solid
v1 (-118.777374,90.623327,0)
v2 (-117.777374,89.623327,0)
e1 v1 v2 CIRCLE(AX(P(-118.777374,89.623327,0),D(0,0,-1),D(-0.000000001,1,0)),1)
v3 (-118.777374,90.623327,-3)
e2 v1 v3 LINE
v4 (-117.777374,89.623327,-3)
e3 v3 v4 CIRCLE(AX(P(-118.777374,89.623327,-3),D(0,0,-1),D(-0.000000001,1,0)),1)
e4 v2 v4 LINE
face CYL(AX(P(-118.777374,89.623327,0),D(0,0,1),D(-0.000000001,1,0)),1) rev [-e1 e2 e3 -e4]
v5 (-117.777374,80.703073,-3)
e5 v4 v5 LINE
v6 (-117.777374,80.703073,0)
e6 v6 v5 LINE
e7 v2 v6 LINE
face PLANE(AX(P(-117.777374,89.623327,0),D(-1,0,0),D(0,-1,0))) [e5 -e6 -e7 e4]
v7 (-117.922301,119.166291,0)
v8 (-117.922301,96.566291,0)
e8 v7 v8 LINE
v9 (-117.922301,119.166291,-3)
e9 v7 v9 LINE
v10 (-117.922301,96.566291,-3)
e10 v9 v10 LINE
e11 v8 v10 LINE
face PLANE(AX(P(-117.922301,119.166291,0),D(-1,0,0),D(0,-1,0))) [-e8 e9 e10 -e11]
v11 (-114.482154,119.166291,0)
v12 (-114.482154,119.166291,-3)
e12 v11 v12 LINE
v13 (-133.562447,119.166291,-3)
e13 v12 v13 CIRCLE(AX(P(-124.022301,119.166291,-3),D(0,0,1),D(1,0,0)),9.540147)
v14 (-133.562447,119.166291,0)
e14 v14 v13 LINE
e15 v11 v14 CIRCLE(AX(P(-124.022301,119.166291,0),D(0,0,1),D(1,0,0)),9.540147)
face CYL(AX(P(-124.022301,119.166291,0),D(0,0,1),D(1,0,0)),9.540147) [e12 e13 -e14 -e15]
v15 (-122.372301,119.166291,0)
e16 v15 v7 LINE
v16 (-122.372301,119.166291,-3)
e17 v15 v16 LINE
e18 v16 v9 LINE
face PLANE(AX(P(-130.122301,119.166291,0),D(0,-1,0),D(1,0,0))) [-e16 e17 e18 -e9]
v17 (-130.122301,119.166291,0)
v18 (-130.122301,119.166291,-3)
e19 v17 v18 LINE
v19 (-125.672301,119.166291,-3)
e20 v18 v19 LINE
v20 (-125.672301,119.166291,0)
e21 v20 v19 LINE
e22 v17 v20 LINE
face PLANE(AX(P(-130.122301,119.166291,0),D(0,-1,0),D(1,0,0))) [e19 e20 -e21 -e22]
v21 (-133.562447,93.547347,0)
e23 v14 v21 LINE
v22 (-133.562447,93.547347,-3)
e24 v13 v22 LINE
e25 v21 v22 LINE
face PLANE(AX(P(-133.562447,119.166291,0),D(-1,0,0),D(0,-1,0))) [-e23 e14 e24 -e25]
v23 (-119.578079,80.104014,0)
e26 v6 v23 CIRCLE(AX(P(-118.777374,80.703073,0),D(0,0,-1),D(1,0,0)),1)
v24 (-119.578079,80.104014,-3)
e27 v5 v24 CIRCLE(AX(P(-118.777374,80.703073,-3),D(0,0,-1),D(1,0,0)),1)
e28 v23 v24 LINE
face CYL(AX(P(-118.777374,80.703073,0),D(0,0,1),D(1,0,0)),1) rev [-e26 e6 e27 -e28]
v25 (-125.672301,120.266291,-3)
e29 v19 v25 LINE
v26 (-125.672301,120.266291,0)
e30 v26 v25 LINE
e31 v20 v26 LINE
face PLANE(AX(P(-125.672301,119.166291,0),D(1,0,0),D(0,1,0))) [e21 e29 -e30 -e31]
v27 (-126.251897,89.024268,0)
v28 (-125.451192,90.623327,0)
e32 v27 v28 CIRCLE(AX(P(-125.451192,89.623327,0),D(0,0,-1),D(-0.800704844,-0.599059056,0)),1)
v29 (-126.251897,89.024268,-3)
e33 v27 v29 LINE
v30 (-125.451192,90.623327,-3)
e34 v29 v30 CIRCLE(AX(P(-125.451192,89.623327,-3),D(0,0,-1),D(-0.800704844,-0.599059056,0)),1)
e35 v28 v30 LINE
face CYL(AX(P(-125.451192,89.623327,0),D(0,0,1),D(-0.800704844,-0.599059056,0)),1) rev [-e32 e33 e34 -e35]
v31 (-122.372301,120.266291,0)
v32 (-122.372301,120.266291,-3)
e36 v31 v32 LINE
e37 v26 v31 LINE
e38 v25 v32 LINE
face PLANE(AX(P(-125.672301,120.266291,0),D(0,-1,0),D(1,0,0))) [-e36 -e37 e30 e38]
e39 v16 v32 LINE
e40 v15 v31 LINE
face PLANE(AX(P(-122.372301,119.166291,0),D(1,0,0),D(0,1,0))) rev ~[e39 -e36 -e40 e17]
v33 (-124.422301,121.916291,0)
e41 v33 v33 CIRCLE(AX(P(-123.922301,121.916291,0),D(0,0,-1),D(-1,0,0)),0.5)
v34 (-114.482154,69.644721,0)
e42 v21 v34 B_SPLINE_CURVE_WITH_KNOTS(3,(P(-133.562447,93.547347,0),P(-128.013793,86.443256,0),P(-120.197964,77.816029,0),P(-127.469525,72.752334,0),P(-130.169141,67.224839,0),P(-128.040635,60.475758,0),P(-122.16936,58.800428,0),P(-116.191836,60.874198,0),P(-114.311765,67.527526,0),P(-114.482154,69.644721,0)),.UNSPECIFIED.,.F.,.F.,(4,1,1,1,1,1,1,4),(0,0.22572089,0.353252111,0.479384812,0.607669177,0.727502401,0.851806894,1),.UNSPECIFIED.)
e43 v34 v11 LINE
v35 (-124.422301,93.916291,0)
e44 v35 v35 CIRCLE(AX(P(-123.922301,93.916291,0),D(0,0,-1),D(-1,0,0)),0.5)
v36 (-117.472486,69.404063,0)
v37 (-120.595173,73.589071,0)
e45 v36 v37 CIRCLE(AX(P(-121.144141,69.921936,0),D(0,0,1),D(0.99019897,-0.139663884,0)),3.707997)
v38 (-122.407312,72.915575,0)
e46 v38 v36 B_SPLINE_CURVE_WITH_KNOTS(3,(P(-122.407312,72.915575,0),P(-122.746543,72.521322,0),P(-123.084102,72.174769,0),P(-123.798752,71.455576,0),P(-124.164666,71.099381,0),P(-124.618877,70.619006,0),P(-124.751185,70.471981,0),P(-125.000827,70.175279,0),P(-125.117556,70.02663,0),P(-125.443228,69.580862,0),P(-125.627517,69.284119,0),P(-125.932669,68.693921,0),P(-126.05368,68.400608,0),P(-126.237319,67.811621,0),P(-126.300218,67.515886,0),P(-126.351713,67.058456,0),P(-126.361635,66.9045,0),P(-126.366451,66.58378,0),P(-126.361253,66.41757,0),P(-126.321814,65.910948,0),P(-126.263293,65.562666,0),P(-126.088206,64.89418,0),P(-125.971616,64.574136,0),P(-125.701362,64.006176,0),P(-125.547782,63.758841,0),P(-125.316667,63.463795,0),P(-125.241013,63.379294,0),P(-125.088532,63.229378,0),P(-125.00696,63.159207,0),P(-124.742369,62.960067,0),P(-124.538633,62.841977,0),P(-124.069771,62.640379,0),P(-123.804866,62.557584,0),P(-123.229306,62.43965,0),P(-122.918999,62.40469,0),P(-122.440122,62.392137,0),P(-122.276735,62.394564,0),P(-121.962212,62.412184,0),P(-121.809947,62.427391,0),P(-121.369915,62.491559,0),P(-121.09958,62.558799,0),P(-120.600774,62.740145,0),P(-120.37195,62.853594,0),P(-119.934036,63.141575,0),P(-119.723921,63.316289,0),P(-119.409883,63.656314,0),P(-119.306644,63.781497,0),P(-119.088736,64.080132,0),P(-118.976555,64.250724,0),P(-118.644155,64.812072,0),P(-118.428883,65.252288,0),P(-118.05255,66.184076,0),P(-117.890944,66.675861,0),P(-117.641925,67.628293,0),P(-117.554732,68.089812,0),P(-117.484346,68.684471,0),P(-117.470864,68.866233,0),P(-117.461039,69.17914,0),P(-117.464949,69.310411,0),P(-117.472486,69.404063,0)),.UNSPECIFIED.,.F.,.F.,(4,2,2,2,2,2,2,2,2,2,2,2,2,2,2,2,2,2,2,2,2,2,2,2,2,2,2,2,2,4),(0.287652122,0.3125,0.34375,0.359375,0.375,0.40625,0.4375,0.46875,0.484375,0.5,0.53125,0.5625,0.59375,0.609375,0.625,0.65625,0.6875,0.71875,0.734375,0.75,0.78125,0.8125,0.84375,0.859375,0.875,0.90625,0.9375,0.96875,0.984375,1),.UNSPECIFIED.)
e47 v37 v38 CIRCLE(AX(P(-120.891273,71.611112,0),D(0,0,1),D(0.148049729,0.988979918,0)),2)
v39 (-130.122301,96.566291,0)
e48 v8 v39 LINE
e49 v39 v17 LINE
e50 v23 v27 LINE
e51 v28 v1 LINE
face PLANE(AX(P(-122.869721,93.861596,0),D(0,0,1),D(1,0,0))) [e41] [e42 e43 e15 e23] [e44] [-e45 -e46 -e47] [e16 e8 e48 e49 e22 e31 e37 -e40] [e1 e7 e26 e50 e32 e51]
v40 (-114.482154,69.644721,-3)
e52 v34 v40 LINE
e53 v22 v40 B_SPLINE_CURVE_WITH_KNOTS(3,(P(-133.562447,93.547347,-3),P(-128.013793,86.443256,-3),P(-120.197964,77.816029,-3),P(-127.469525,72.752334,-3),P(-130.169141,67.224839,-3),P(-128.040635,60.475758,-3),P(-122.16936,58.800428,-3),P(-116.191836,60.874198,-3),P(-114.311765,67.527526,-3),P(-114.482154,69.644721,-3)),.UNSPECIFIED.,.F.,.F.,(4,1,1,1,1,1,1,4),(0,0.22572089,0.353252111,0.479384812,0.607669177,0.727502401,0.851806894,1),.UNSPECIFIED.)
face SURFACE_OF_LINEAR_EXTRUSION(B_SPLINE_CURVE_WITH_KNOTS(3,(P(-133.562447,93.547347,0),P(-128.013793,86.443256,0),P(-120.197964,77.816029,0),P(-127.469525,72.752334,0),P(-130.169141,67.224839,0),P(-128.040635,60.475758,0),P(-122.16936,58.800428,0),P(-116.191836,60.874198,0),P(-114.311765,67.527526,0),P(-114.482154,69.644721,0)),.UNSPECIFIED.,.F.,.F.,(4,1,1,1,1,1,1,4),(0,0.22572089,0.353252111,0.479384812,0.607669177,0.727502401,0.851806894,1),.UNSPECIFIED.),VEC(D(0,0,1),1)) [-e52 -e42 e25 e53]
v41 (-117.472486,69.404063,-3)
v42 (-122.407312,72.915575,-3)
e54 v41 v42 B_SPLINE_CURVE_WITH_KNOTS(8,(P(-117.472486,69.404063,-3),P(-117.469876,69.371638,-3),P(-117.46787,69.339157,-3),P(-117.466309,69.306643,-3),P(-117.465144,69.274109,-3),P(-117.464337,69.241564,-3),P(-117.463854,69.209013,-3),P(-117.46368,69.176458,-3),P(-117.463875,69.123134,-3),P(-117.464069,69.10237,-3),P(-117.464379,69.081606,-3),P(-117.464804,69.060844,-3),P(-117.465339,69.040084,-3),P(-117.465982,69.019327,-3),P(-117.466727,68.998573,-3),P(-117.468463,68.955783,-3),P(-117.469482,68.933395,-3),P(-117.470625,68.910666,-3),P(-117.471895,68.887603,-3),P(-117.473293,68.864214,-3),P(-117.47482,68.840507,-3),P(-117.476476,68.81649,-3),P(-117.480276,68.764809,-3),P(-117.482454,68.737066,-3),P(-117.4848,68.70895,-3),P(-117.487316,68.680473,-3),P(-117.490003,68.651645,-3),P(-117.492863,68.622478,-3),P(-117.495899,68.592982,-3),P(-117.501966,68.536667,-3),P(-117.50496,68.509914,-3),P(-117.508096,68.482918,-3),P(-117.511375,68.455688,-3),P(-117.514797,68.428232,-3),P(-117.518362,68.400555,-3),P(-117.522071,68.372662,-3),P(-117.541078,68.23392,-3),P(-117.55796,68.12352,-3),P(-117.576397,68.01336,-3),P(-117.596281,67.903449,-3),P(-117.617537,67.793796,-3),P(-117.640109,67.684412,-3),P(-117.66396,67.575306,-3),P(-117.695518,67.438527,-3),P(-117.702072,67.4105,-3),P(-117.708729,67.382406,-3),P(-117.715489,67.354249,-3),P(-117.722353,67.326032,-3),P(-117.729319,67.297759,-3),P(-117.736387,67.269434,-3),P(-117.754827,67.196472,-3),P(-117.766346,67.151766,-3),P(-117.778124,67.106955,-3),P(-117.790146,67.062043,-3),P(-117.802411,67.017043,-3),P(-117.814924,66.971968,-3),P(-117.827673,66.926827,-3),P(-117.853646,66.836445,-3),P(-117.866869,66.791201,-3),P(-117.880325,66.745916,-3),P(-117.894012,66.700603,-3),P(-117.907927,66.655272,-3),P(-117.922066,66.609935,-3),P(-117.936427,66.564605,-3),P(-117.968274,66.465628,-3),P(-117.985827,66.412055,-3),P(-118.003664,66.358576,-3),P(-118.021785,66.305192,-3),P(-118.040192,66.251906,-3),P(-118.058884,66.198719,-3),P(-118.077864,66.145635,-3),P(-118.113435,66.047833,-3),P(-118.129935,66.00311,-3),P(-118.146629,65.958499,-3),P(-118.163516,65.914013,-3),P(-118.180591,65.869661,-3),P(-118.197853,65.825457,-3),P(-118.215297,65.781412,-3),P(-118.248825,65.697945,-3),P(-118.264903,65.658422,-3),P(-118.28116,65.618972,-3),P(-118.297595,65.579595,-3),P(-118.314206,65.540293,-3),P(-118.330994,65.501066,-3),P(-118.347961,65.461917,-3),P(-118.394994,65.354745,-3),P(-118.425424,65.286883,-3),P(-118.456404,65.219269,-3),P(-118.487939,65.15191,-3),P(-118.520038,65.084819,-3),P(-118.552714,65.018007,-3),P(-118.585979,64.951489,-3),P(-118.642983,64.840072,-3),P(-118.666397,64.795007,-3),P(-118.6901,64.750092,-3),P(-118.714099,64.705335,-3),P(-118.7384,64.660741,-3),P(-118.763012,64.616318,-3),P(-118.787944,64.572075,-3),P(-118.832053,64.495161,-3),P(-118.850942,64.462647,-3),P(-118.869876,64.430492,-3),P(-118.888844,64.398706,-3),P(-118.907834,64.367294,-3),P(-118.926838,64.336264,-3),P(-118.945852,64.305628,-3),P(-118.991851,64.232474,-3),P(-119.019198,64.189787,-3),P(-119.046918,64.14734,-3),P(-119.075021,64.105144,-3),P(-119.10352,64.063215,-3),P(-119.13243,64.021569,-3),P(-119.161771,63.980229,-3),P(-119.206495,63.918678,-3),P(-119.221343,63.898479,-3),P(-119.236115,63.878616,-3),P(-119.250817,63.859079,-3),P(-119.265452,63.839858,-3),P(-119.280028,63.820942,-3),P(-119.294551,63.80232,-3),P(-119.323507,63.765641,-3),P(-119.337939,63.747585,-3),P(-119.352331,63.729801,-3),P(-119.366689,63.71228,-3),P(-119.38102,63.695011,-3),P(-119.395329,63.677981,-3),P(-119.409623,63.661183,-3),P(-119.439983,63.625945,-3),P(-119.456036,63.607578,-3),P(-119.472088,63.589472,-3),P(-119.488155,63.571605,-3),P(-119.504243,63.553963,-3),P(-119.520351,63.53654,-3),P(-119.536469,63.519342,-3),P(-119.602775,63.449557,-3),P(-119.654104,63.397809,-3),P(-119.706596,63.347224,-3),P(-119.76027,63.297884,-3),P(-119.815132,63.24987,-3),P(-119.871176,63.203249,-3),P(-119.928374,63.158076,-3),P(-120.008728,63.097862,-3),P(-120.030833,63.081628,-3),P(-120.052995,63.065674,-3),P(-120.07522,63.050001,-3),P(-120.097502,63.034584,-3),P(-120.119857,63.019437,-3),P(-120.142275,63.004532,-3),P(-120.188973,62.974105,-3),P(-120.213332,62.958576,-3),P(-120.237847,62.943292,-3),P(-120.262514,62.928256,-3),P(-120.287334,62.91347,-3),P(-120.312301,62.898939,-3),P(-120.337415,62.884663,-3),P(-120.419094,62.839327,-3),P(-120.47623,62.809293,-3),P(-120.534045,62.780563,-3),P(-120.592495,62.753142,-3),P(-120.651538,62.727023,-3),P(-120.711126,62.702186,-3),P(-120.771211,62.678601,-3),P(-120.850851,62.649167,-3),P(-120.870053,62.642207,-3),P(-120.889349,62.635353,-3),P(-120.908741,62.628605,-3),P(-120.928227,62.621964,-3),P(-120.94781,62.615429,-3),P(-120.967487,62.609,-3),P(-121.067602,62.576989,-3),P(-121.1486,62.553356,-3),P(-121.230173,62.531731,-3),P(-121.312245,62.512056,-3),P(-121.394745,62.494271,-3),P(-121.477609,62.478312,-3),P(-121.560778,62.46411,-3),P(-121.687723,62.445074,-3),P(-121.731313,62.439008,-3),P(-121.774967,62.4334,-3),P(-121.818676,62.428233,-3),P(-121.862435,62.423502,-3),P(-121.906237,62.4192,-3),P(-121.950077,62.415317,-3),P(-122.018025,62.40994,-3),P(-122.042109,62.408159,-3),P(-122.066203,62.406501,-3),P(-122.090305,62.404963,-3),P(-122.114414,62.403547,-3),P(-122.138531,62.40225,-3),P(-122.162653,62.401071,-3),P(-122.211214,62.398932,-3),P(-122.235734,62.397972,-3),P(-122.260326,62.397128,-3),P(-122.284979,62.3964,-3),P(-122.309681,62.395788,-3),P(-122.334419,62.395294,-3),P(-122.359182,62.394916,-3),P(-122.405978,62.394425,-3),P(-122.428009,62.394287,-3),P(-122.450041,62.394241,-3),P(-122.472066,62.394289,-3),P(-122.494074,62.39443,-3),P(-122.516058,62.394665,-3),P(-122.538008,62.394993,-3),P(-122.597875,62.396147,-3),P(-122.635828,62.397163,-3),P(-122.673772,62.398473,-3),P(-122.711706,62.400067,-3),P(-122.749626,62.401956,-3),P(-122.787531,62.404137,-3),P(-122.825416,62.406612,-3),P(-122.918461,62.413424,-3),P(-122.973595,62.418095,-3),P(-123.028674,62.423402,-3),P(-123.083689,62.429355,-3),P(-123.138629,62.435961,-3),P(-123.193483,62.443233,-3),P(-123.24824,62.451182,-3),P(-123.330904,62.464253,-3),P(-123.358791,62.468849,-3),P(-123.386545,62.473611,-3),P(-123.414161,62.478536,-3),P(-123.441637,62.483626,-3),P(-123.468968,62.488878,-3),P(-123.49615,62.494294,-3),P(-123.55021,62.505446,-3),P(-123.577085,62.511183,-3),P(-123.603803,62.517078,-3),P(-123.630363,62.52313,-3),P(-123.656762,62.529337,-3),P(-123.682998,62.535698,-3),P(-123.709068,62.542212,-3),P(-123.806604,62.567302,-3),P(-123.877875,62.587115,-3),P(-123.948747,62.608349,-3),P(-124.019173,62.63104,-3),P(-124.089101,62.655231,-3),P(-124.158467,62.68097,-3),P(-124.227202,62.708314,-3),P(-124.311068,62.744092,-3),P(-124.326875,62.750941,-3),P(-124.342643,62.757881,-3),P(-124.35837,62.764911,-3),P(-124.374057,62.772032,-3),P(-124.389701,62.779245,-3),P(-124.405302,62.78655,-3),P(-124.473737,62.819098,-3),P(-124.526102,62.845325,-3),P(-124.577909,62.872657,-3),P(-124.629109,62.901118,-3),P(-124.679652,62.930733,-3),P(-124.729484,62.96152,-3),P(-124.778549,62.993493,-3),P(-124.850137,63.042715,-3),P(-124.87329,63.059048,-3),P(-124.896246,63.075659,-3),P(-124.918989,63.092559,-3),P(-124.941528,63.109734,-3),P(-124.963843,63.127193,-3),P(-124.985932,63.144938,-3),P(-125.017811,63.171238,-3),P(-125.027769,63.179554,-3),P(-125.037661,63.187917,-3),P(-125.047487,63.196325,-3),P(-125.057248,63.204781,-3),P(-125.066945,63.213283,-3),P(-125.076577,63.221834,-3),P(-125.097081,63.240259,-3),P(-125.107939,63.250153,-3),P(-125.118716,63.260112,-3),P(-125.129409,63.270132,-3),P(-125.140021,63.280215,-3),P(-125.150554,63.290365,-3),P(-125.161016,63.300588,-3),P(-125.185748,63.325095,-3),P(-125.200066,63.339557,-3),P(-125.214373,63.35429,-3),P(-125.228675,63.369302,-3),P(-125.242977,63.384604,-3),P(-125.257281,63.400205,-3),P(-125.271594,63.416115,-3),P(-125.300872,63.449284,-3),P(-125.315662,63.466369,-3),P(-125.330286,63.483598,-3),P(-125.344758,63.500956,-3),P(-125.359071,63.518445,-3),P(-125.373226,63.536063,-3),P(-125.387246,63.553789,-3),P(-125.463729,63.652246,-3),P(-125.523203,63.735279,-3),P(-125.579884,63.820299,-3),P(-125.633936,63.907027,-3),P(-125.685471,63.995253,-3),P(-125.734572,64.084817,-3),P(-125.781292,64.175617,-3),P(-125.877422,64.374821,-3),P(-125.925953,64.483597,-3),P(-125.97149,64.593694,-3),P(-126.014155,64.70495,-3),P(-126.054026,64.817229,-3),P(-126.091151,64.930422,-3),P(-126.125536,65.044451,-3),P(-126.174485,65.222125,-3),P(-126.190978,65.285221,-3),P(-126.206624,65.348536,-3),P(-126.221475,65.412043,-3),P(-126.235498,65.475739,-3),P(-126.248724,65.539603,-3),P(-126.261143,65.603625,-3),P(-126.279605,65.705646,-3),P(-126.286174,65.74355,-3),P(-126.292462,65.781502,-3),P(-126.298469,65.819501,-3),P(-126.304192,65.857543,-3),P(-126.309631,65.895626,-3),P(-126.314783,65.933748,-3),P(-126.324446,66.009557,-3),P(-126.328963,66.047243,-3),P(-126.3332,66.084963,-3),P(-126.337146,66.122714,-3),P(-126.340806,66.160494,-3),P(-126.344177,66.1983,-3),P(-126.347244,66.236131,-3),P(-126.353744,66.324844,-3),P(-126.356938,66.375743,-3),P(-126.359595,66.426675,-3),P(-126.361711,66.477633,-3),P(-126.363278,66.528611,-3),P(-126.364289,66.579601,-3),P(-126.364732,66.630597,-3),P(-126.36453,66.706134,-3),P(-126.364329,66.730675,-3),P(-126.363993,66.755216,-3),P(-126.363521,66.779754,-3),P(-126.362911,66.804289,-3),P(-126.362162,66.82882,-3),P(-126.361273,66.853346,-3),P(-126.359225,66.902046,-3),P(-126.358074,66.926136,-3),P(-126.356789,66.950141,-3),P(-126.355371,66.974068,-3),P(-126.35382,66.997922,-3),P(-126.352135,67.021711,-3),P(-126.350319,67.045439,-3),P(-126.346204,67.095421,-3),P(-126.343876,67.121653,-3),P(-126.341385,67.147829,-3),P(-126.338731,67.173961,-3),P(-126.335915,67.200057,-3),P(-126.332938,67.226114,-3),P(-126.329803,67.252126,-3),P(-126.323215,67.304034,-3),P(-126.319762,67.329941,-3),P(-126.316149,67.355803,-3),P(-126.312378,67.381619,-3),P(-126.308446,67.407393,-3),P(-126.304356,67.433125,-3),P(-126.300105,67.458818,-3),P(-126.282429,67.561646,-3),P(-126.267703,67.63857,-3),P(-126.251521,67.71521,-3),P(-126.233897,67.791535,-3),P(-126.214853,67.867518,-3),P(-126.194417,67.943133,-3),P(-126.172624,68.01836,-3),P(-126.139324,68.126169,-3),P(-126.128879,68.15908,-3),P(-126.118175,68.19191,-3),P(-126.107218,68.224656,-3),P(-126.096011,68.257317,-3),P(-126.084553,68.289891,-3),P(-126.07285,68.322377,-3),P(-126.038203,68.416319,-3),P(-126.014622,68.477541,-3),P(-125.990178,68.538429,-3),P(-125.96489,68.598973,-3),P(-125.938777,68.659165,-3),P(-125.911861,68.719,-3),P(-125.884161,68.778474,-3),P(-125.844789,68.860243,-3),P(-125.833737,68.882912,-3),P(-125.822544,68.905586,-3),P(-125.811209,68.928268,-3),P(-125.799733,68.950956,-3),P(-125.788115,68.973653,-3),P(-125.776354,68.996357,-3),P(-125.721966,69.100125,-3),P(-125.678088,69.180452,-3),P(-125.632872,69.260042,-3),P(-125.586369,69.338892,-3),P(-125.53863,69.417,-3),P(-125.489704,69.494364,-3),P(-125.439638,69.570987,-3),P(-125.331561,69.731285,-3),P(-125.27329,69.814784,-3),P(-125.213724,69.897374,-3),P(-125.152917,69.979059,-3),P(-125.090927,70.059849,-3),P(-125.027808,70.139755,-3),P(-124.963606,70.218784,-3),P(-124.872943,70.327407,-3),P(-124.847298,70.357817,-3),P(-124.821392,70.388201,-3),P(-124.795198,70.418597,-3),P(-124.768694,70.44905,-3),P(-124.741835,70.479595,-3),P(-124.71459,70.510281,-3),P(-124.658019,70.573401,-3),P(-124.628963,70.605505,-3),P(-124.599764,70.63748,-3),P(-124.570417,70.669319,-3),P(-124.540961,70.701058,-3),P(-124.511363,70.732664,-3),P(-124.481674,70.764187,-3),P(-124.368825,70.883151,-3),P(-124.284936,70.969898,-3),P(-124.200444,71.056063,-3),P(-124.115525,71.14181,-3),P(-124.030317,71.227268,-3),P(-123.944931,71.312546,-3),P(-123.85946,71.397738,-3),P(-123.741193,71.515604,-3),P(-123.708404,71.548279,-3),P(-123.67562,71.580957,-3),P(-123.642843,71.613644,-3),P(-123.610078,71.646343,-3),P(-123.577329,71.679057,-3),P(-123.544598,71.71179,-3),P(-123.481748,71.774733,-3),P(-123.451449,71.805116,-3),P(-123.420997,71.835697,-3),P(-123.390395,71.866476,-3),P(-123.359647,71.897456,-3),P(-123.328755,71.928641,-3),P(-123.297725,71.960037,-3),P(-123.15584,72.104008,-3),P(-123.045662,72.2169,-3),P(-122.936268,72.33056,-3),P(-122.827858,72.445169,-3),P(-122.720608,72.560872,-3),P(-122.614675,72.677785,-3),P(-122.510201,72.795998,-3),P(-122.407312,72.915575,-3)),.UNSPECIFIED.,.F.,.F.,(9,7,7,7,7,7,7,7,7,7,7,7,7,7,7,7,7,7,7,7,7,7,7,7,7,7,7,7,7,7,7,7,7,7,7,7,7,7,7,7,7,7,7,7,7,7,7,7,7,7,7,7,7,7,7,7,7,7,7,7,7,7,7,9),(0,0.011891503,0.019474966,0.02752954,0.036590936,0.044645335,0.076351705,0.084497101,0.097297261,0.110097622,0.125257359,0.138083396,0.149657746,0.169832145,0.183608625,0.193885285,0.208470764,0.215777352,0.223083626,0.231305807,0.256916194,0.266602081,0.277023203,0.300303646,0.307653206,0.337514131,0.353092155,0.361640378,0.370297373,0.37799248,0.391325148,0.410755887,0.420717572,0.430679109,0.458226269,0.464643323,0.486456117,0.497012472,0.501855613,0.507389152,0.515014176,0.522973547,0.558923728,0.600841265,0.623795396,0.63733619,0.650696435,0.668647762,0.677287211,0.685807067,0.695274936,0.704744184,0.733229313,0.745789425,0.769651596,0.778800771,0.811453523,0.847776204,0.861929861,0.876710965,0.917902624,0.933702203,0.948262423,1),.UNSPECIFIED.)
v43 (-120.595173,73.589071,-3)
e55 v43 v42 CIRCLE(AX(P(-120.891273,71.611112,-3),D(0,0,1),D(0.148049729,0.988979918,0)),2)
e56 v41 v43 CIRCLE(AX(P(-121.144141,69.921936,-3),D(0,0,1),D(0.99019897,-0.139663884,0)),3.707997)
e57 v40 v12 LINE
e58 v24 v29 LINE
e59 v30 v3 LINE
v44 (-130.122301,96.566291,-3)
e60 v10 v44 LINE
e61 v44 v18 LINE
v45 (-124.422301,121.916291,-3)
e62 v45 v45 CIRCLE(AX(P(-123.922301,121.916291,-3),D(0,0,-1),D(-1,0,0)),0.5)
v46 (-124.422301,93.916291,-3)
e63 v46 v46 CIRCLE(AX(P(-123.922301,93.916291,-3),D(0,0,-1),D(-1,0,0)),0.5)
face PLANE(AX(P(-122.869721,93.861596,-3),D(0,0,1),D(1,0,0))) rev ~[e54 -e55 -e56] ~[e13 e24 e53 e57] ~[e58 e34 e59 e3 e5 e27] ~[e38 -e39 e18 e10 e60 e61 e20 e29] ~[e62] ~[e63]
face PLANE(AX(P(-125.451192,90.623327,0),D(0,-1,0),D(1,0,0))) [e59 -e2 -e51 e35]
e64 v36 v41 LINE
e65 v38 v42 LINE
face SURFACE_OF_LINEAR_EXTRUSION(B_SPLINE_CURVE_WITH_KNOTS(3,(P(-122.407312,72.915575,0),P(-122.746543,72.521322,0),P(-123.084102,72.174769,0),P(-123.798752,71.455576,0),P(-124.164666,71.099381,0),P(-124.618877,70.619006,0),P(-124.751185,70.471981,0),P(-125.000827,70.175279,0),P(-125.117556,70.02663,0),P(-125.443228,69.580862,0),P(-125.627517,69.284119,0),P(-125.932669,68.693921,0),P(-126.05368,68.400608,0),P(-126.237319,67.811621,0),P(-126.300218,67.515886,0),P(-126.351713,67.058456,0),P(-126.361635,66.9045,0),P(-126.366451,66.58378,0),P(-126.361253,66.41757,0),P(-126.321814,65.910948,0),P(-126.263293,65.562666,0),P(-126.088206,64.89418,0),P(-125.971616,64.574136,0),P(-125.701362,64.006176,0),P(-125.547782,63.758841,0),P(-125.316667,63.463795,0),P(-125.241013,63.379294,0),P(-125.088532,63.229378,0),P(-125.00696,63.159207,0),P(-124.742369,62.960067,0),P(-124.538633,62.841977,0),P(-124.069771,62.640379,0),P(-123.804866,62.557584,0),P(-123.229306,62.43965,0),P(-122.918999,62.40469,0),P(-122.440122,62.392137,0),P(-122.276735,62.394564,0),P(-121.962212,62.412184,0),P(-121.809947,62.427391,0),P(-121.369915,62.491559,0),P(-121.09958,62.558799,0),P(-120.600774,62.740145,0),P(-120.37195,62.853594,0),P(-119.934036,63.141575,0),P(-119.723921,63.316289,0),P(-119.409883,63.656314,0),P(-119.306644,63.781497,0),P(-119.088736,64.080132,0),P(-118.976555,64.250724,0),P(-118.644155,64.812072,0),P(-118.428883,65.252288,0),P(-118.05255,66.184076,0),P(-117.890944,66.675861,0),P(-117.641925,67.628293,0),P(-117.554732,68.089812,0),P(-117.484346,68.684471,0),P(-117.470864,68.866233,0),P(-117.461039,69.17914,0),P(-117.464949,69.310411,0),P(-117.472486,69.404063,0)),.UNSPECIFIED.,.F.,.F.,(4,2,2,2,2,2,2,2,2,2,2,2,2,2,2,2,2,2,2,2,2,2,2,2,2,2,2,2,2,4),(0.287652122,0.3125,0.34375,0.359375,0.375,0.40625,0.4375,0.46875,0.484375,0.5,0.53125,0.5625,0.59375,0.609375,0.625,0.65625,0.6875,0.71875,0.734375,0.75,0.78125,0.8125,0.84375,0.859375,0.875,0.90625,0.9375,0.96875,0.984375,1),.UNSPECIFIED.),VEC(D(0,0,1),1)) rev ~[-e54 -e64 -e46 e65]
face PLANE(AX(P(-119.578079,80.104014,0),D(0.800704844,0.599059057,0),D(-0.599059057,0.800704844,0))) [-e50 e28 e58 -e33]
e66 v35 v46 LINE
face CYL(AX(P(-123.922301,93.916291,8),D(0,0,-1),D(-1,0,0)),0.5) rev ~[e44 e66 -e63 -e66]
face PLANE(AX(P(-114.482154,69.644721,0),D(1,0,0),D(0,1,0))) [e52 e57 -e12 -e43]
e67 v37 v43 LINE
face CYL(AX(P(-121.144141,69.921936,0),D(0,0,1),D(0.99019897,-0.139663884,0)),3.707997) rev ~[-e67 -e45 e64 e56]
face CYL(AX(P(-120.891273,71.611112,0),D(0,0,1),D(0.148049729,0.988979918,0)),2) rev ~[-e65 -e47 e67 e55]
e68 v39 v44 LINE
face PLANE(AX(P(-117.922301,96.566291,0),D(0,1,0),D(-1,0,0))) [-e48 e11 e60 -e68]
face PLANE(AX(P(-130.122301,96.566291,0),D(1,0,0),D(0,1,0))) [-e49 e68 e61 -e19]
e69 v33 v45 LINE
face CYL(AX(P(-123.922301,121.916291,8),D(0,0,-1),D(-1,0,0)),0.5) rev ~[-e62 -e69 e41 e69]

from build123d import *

# Parameters (mm, degrees)
AUFSATZ_LINEAR_AUSTRAGEN1_DEPTH    = 3
F_1_0_1_DURCHMESSER_BOHRUNG1_D     = 1
F_1_0_1_DURCHMESSER_BOHRUNG1_DEPTH = 8
F_1_0_1_DURCHMESSER_BOHRUNG1_TIP   = 0.30043031
SCHNITT_LINEAR_AUSTRAGEN1_DEPTH    = 10
SKIZZE5_W                          = 3.3
SKIZZE5_H                          = 1.1
SCHNITT_LINEAR_AUSTRAGEN2_DEPTH    = 10


with BuildPart() as part:
    # Skizze1 → Aufsatz-Linear austragen1 (new body)
    with BuildSketch(Plane.XY):
        with BuildLine():
            Line((-133.562447252, 119.166291083), (-133.562447252, 93.547346763))
            add(Edge.make_bspline(
                [(-133.562447252, 93.547346763), (-128.013793175, 86.443256326), (-120.197963559, 77.816029383), (-127.469524773, 72.752333885), (-130.169140804, 67.224838893), (-128.040635043, 60.475757597), (-122.169360267, 58.800428332), (-116.191836091, 60.874197718), (-114.311765496, 67.527525691), (-114.482154233, 69.644720578)],
                knots=[0, 0, 0, 0, 0.22572089, 0.353252111, 0.479384812, 0.607669177, 0.727502401, 0.851806894, 1, 1, 1, 1], degree=3))
            Line((-114.482154233, 69.644720578), (-114.482154233, 119.166291083))
            ThreePointArc((-114.482154233, 119.166291083), (-124.022300743, 128.706437592), (-133.562447252, 119.166291083))
        make_face()
        Polygon((-126.022300743, 119.166291083), (-122.022300743, 119.166291083), (-117.922300743, 119.166291083), (-117.922300743, 96.566291083), (-130.122300743, 96.566291083), (-130.122300743, 119.166291083), align=None, mode=Mode.SUBTRACT)
        with BuildLine():
            Line((-125.45119226, 90.6233266), (-118.777374173, 90.6233266))
            ThreePointArc((-118.777374173, 90.6233266), (-118.070267391, 90.330433381), (-117.777374173, 89.6233266))
            Line((-117.777374173, 89.6233266), (-117.777374173, 80.703073397))
            ThreePointArc((-117.777374173, 80.703073397), (-118.461704126, 79.754204375), (-119.578079016, 80.104014341))
            Line((-119.578079016, 80.104014341), (-126.251897103, 89.024267543))
            ThreePointArc((-126.251897103, 89.024267543), (-126.34535641, 90.071065889), (-125.45119226, 90.6233266))
        make_face(mode=Mode.SUBTRACT)
    extrude(amount=-AUFSATZ_LINEAR_AUSTRAGEN1_DEPTH)

    # Ø1.0 (1) Durchmesser Bohrung1
    with Locations(Plane.XY):
        with Locations((-123.922300743, 121.916291083), (-123.922300743, 93.916291083)):
            Hole(F_1_0_1_DURCHMESSER_BOHRUNG1_D / 2, depth=F_1_0_1_DURCHMESSER_BOHRUNG1_DEPTH)
            with Locations((0, 0, -(F_1_0_1_DURCHMESSER_BOHRUNG1_DEPTH + F_1_0_1_DURCHMESSER_BOHRUNG1_TIP / 2))):  # 118° drill point
                Cone(0, F_1_0_1_DURCHMESSER_BOHRUNG1_D / 2, F_1_0_1_DURCHMESSER_BOHRUNG1_TIP, mode=Mode.SUBTRACT)

    # Skizze4 → Schnitt-Linear austragen1 (cut)
    with BuildSketch(Plane.XY):
        with BuildLine():
            ThreePointArc((-117.472485981, 69.404063067), (-118.172275009, 72.13942513), (-120.595173245, 73.589071445))
            ThreePointArc((-120.595173245, 73.589071445), (-121.588024533, 73.485821424), (-122.407312458, 72.915574512))
            add(Edge.make_bspline(
                [(-122.407312458, 72.915574512), (-122.746543092, 72.521322498), (-123.084101687, 72.174768995), (-123.798751665, 71.45557614), (-124.164666351, 71.099380602), (-124.618877178, 70.619005764), (-124.751184868, 70.471981366), (-125.000827495, 70.175278509), (-125.117556476, 70.026630412), (-125.443227957, 69.580861957), (-125.627517044, 69.284119268), (-125.93266916, 68.69392072), (-126.053679968, 68.400608069), (-126.237319326, 67.811620539), (-126.300218029, 67.515886305), (-126.351713498, 67.058456155), (-126.361635403, 66.904500193), (-126.366451397, 66.583779749), (-126.361253322, 66.417569525), (-126.321813676, 65.910947758), (-126.263292648, 65.562666155), (-126.088206334, 64.894180477), (-125.971616292, 64.574135603), (-125.701362116, 64.006175706), (-125.547781703, 63.758840537), (-125.316666988, 63.463794922), (-125.241012759, 63.37929359), (-125.088532461, 63.229378343), (-125.006959649, 63.159206644), (-124.742369309, 62.960067469), (-124.538633456, 62.841976548), (-124.069770902, 62.640378887), (-123.804866136, 62.557583932), (-123.229305718, 62.439649895), (-122.918998874, 62.404690041), (-122.440121841, 62.392136745), (-122.276734617, 62.394563517), (-121.962211578, 62.412183617), (-121.809947481, 62.427391204), (-121.36991516, 62.491559289), (-121.099580382, 62.558798956), (-120.60077366, 62.740145004), (-120.371950204, 62.853593654), (-119.934035758, 63.141575241), (-119.723921168, 63.316288807), (-119.409882914, 63.656314491), (-119.306643748, 63.781496754), (-119.088736247, 64.080131512), (-118.976554514, 64.250724495), (-118.644154955, 64.812072413), (-118.428883064, 65.252287661), (-118.052550193, 66.184076389), (-117.89094429, 66.675861274), (-117.641925252, 67.628292551), (-117.554732373, 68.089811838), (-117.484346109, 68.684471406), (-117.470864491, 68.866232921), (-117.461039299, 69.179140188), (-117.464949001, 69.310411013), (-117.472485981, 69.404063067)],
                knots=[0.287652122, 0.287652122, 0.287652122, 0.287652122, 0.3125, 0.3125, 0.34375, 0.34375, 0.359375, 0.359375, 0.375, 0.375, 0.40625, 0.40625, 0.4375, 0.4375, 0.46875, 0.46875, 0.484375, 0.484375, 0.5, 0.5, 0.53125, 0.53125, 0.5625, 0.5625, 0.59375, 0.59375, 0.609375, 0.609375, 0.625, 0.625, 0.65625, 0.65625, 0.6875, 0.6875, 0.71875, 0.71875, 0.734375, 0.734375, 0.75, 0.75, 0.78125, 0.78125, 0.8125, 0.8125, 0.84375, 0.84375, 0.859375, 0.859375, 0.875, 0.875, 0.90625, 0.90625, 0.9375, 0.9375, 0.96875, 0.96875, 0.984375, 0.984375, 1, 1, 1, 1], degree=3))
        make_face()
    extrude(amount=-SCHNITT_LINEAR_AUSTRAGEN1_DEPTH, mode=Mode.SUBTRACT)

    # Skizze5 → Schnitt-Linear austragen2 (cut)
    with BuildSketch(Plane.XY):
        with Locations((-124.022300743, 119.716291083)):
            Rectangle(SKIZZE5_W, SKIZZE5_H)
    extrude(amount=-SCHNITT_LINEAR_AUSTRAGEN2_DEPTH, mode=Mode.SUBTRACT)


solid = part.part
